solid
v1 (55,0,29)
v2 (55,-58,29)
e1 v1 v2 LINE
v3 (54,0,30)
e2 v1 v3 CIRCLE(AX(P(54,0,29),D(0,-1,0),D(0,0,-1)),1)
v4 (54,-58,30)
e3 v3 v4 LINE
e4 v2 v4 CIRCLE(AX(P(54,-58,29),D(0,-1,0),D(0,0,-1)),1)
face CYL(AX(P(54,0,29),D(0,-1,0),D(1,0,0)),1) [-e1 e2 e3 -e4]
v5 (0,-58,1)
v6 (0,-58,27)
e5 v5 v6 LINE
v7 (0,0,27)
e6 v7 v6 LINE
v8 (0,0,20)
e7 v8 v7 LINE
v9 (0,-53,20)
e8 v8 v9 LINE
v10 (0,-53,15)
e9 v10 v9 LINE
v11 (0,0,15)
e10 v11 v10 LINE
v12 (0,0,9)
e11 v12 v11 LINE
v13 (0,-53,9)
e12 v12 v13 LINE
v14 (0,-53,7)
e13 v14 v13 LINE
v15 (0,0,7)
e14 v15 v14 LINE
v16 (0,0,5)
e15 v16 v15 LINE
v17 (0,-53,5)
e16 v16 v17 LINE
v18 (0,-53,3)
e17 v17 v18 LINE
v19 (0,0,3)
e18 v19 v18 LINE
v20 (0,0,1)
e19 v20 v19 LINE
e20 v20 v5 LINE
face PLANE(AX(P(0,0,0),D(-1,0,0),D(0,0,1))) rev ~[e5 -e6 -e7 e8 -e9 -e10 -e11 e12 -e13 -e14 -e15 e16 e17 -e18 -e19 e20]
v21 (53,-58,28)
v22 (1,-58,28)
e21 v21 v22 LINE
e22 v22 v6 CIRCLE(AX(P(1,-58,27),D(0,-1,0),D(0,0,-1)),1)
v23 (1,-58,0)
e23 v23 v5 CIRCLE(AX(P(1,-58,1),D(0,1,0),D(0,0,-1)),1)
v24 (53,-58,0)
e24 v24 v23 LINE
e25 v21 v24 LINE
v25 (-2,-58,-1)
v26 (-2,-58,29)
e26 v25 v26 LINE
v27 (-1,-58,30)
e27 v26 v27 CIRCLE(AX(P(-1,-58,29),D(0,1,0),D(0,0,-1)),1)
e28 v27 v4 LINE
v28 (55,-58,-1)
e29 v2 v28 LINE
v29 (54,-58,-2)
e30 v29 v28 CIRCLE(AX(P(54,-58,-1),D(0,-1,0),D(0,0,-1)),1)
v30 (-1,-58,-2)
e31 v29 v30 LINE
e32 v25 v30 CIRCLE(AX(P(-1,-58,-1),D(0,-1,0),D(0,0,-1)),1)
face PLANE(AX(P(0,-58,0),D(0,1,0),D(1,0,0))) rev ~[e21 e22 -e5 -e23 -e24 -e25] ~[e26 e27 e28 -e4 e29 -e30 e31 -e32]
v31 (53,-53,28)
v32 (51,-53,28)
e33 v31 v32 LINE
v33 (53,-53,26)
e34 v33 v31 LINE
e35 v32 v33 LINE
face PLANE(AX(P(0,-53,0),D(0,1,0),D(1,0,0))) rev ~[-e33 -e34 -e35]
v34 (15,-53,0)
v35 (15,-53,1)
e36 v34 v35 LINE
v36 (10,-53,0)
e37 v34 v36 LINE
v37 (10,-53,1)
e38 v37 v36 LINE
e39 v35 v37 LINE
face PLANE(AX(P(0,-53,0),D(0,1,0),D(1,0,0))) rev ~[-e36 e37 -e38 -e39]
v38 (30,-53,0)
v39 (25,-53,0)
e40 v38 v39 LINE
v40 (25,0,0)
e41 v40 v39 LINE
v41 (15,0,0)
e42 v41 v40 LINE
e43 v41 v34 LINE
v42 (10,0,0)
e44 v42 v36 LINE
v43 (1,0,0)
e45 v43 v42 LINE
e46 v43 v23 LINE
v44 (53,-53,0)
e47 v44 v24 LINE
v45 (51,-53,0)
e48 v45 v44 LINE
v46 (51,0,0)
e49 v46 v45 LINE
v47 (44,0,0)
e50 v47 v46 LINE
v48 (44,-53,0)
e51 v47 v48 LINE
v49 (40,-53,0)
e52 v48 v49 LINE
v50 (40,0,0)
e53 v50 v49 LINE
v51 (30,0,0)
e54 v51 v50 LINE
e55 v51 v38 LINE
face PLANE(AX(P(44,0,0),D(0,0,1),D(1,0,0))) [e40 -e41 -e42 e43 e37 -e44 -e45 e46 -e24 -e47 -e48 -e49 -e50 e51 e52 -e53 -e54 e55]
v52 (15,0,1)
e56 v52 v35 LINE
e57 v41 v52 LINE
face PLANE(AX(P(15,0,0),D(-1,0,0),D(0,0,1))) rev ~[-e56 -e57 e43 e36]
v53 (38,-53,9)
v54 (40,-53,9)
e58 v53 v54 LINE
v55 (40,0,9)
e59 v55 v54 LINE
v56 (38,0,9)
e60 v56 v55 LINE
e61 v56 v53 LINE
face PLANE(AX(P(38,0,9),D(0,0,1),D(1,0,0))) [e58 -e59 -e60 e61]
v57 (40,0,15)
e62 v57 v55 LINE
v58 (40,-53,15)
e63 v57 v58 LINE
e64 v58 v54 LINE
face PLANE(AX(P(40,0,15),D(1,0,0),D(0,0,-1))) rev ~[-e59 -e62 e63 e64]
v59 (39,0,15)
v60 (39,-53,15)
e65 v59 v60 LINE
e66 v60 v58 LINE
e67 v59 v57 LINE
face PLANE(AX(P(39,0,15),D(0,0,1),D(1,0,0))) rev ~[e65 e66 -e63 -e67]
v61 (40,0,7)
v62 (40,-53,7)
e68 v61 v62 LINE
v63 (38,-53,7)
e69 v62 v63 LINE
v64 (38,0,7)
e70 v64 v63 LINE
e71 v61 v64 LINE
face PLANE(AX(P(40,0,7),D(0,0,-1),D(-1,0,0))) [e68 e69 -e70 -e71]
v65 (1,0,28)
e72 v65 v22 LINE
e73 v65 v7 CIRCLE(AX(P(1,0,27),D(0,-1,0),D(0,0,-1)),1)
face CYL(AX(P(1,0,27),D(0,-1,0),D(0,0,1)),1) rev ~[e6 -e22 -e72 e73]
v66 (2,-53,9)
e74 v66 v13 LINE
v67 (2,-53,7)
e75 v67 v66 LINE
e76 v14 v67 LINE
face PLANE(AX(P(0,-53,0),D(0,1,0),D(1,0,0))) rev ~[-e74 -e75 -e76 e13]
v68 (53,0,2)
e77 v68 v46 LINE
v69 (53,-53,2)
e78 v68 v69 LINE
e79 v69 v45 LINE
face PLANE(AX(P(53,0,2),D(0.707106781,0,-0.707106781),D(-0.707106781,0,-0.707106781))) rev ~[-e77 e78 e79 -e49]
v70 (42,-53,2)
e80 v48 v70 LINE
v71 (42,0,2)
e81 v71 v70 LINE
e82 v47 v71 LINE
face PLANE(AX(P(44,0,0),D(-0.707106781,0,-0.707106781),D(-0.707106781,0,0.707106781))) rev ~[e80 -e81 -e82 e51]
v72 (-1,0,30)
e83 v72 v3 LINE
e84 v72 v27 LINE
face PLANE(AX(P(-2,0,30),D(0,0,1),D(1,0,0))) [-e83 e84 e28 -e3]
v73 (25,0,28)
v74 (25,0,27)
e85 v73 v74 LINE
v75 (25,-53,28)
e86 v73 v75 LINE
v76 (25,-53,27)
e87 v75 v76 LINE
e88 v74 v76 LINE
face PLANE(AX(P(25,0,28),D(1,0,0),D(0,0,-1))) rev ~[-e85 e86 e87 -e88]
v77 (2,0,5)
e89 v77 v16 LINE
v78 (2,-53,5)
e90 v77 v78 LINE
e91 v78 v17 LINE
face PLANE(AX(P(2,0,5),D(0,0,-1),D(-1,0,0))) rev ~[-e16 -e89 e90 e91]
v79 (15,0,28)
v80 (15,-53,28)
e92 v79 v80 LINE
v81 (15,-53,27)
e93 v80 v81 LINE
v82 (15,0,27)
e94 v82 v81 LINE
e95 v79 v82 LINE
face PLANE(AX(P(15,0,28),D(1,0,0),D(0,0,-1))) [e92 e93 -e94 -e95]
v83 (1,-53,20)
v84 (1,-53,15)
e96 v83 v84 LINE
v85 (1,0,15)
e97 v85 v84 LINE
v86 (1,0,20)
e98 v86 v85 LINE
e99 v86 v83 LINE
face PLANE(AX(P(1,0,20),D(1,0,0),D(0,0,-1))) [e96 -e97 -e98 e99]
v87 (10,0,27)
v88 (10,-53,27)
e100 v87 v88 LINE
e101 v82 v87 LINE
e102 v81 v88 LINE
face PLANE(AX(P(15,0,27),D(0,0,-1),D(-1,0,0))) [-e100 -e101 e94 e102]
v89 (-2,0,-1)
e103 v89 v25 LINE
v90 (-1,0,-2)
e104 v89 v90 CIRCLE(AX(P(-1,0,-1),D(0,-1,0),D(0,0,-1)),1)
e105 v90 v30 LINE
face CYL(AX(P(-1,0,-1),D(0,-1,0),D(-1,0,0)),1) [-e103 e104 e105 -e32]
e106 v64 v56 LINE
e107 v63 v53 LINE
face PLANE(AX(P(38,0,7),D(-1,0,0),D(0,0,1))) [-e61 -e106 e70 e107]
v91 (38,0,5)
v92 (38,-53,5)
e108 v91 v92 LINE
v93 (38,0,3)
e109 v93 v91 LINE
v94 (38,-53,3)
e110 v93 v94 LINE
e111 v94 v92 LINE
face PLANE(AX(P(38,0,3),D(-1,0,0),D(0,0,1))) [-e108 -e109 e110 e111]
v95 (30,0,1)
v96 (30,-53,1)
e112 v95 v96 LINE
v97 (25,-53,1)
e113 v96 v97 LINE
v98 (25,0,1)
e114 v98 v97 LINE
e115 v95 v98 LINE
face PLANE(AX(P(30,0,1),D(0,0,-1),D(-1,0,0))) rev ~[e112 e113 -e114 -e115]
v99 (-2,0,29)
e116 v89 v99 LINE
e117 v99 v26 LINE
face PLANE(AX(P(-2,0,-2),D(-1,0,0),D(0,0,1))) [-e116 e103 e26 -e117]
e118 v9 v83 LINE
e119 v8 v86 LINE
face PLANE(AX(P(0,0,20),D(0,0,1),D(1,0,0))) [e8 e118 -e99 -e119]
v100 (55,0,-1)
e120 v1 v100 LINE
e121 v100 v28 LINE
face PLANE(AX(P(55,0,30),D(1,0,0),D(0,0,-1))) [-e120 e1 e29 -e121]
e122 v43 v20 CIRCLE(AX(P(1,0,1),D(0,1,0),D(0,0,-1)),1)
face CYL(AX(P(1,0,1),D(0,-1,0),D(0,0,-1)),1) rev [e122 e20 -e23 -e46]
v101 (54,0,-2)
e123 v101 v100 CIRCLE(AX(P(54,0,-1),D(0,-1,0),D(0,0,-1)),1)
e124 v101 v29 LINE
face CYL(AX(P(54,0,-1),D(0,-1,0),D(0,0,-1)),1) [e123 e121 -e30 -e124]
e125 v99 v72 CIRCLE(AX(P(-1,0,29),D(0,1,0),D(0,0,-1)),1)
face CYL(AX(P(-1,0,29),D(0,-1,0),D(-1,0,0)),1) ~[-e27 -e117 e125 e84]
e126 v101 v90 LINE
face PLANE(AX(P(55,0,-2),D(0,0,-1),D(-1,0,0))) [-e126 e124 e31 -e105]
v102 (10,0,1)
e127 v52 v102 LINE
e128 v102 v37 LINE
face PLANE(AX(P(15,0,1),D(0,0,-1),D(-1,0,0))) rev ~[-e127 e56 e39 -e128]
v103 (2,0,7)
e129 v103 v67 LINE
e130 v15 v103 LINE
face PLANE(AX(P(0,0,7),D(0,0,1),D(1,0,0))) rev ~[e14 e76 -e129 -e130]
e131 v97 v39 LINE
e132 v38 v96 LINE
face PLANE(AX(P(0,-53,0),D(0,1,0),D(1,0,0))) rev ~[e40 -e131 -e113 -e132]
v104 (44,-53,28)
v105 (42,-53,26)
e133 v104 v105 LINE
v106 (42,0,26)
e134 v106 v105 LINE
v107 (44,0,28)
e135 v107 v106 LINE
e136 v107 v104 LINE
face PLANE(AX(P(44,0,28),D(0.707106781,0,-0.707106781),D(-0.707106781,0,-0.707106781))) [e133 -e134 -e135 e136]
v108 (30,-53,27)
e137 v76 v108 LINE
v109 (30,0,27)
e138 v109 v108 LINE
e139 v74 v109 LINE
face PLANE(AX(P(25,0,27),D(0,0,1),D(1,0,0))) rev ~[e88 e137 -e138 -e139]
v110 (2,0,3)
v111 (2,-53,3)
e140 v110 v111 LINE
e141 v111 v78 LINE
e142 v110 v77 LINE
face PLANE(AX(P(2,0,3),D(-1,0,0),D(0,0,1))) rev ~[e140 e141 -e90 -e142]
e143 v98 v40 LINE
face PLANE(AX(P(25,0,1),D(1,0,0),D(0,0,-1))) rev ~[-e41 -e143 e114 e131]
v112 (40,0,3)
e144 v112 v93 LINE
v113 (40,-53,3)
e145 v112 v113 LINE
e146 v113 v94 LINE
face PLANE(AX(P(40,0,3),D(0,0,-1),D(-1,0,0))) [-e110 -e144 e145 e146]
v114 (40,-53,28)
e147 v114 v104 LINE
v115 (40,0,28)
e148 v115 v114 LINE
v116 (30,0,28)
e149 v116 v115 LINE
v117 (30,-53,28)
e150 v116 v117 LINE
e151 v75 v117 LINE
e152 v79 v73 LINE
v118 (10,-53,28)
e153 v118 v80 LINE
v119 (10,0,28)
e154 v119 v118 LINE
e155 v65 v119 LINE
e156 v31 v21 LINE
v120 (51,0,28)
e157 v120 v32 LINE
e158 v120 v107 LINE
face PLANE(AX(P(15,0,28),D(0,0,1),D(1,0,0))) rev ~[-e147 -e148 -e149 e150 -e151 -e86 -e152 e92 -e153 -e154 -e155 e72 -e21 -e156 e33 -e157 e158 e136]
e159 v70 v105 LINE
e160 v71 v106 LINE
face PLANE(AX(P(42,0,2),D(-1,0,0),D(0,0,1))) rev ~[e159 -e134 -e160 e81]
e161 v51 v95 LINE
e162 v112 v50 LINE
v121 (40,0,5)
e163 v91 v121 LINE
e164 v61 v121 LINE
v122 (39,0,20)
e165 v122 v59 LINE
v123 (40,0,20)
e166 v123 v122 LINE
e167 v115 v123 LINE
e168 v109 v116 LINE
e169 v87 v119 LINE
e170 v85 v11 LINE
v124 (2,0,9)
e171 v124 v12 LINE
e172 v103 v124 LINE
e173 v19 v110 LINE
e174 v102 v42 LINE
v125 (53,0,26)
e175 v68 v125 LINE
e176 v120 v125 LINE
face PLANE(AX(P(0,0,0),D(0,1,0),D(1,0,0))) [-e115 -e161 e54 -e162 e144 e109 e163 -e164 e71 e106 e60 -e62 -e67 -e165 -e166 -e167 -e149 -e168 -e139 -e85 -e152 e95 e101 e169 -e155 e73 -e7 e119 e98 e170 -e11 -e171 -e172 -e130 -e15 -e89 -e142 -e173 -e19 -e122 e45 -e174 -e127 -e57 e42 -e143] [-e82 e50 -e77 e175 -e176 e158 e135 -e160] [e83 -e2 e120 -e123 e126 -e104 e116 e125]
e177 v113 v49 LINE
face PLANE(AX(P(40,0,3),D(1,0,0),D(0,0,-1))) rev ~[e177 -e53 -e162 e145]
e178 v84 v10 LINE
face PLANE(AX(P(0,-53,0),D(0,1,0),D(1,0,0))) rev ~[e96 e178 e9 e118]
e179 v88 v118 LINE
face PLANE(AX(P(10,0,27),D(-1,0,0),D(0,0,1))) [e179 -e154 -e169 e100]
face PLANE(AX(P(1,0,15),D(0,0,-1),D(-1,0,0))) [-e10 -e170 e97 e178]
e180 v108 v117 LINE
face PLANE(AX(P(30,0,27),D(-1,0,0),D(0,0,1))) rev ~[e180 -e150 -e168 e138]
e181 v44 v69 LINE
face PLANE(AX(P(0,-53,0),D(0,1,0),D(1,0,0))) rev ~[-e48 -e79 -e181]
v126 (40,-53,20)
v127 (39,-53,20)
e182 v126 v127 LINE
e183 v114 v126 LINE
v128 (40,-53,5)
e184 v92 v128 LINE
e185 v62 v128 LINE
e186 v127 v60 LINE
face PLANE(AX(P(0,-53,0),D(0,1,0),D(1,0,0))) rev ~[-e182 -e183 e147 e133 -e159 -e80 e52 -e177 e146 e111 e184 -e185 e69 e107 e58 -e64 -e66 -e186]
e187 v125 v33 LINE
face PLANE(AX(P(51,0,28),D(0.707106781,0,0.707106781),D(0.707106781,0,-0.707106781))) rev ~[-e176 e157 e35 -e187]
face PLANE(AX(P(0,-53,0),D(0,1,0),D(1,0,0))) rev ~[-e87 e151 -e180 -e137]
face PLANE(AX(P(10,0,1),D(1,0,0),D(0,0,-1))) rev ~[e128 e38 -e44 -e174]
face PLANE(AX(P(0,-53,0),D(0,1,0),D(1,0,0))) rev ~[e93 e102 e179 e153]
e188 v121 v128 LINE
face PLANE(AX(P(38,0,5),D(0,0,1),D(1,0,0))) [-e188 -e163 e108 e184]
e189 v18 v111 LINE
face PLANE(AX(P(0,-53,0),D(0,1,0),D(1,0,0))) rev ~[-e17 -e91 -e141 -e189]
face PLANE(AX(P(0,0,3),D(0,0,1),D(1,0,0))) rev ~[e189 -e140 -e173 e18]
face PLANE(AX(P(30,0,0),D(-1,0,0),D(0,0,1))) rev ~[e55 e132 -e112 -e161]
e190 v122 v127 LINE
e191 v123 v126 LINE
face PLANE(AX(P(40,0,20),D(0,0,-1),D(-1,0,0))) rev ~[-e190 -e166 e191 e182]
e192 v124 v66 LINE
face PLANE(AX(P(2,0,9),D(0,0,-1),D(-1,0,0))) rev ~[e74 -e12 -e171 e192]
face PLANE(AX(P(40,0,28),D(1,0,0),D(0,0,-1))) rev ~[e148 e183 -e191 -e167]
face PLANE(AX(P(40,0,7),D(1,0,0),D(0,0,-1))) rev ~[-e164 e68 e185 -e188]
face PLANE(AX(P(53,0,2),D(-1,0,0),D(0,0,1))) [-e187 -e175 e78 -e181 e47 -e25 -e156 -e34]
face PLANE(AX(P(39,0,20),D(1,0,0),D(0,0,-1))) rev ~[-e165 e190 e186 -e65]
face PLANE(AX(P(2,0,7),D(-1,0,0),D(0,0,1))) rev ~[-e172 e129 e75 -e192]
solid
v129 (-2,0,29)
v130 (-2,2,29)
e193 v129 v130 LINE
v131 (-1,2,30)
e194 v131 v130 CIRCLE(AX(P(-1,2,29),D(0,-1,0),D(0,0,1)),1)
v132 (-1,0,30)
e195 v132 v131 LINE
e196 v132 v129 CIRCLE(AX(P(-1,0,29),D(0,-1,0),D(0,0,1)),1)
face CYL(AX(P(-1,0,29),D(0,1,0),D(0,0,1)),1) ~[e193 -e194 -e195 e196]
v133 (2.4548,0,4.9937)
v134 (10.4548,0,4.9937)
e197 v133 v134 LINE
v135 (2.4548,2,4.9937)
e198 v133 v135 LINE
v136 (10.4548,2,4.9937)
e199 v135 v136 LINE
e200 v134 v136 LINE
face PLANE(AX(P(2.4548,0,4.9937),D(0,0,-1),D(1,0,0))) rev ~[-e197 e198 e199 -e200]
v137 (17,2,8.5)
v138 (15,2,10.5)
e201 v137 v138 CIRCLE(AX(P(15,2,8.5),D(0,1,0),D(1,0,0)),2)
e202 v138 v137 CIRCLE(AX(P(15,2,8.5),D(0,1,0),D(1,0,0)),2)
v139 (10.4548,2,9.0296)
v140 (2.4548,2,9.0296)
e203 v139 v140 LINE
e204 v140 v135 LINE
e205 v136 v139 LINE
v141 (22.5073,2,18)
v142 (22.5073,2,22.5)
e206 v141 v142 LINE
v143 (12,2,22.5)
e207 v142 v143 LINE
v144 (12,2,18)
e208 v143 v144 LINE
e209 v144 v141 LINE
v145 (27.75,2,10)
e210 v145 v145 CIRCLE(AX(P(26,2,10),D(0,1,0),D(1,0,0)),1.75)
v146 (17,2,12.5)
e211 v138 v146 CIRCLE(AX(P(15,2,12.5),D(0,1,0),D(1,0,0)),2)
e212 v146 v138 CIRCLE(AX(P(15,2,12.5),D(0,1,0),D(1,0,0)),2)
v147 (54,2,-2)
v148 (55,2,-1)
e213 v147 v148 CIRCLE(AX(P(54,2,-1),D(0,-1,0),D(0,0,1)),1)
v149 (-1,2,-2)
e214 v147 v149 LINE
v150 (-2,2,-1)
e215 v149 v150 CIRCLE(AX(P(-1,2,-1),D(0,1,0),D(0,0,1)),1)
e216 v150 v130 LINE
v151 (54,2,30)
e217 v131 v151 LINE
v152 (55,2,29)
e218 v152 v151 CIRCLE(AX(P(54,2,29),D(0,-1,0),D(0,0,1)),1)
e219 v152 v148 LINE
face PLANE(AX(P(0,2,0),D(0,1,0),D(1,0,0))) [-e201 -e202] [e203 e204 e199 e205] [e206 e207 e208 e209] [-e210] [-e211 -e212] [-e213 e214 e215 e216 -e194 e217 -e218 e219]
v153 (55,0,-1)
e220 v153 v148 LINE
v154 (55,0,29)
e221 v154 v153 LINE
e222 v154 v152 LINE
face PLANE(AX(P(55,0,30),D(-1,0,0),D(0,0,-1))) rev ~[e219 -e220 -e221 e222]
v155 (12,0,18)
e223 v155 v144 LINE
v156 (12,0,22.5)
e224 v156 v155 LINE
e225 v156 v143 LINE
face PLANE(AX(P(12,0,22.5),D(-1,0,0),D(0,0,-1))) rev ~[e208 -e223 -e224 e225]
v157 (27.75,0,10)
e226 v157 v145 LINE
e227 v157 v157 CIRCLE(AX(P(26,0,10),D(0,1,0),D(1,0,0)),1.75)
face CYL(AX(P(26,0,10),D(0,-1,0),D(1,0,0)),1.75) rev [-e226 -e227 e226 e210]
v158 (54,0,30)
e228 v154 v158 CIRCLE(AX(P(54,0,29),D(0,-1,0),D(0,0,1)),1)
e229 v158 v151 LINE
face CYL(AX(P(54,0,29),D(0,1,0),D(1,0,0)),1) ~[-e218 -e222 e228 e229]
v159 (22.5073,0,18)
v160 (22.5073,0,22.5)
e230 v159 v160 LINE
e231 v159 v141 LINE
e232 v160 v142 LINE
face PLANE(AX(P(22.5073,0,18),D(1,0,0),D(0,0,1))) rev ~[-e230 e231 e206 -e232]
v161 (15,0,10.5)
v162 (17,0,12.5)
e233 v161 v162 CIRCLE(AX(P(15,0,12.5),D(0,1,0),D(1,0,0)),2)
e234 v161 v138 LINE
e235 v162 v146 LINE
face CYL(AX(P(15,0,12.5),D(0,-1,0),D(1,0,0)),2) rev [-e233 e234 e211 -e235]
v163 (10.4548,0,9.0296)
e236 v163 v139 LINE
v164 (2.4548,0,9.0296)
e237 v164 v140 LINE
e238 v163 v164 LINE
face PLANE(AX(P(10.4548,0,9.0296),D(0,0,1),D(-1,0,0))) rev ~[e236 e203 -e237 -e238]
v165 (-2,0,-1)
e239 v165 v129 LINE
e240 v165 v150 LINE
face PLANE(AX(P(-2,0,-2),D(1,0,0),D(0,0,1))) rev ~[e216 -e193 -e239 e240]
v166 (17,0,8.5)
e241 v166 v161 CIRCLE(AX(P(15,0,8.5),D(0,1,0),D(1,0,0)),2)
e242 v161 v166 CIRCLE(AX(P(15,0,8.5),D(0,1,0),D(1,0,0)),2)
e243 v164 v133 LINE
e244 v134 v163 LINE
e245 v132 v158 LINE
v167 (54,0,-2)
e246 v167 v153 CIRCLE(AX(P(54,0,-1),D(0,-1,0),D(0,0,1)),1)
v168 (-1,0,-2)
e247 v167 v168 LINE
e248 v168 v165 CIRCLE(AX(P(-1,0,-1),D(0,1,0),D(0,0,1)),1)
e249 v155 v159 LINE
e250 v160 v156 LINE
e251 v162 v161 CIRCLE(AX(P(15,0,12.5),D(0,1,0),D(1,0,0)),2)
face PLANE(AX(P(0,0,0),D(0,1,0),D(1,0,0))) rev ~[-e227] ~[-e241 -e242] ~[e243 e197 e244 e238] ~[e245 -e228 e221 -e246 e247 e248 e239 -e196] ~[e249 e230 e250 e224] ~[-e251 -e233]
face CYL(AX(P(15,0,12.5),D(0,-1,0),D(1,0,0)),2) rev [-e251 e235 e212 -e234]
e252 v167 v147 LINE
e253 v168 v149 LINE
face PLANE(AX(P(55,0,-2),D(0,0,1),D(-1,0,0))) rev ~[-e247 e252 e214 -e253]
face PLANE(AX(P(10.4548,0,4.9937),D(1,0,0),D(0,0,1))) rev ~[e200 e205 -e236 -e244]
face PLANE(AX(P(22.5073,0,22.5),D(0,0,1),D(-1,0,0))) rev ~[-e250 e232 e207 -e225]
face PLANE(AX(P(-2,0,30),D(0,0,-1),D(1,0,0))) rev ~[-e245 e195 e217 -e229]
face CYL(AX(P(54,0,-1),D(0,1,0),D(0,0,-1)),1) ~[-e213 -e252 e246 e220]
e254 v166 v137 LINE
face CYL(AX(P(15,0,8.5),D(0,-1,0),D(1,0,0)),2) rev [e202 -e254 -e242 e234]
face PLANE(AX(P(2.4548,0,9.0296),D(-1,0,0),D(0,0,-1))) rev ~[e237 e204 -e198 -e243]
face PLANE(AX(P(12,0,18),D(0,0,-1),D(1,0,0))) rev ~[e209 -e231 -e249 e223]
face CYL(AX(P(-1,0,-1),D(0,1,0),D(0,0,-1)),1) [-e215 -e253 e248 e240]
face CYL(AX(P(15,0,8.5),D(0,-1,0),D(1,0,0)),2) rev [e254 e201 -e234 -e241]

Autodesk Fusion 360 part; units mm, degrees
sketch "Esquisse1" plane through (0, 0, 0) normal (0, 1, 0) x (1, 0, 0)
  line L0 (0, -28) -> (40, -28)
  line L1 (40, -28) -> (40, 0)
  line L2 (40, 0) -> (42, 0)
  line L3 (42, 0) -> (42, -28)
  line L4 (42, -28) -> (40, -28)
  line L5 (40, -28) -> (40, 0)
  line L6 (42, 0) -> (53, 0)
  line L7 (53, 0) -> (53, -28)
  line L8 (53, -28) -> (42, -28)
  line L9 (42, -28) -> (42, 0)
  line L10 (12, 0) -> (15, 0)
  line L11 (25, 0) -> (28, 0)
  line L12 (10, -28) -> (15, -28)
  line L13 (15, -28) -> (15, -27)
  line L14 (15, -27) -> (10, -27)
  line L15 (10, -27) -> (10, -28)
  line L16 (30, -28) -> (25, -28)
  line L17 (25, -28) -> (25, -27)
  line L18 (25, -27) -> (30, -27)
  line L19 (30, -27) -> (30, -28)
  line L20 (0, -3) -> (2, -3)
  line L21 (2, -3) -> (2, -5)
  line L22 (2, -5) -> (0, -5)
  line L23 (0, -5) -> (0, -3)
  line L24 (40, -3) -> (38, -3)
  line L25 (38, -3) -> (38, -5)
  line L26 (38, -5) -> (40, -5)
  line L27 (40, -5) -> (40, -3)
  line L28 (40, -7) -> (38, -7)
  line L29 (38, -7) -> (38, -9)
  line L30 (38, -9) -> (40, -9)
  line L31 (40, -9) -> (40, -7)
  line L32 (2.4548, -4.9937) -> (10.4548, -4.9937)
  line L33 (10.4548, -4.9937) -> (10.4548, -9.0296)
  line L34 (10.4548, -9.0296) -> (2.4548, -9.0296)
  line L35 (2.4548, -9.0296) -> (2.4548, -4.9937)
  circle A0 centre (26, -10) radius 1.75
  circle A1 centre (15, -8.5) radius 2
  circle A2 centre (15, -12.5) radius 2
  line L36 (0, 0) -> (40, 0)
  line L37 (0, 0) -> (0, -28)
  line L38 (0, -7) -> (2, -7)
  line L39 (2, -7) -> (2, -9)
  line L40 (2, -9) -> (0, -9)
  line L41 (0, -9) -> (0, -7)
  line L42 (-2, -30) -> (55, -30)
  line L43 (55, -30) -> (55, 2)
  line L44 (55, 2) -> (-2, 2)
  line L45 (-2, 2) -> (-2, -30)
  line L46 (0, 0) -> (15, 0)
  line L47 (0, -16.5) -> (0, 0)
  line L48 (12, -18) -> (22.5073, -18)
  line L49 (22.5073, -18) -> (22.5073, -22.5)
  line L50 (22.5073, -22.5) -> (12, -22.5)
  line L51 (12, -22.5) -> (12, -18)
  line L52 (0, -20) -> (1, -20)
  line L53 (1, -20) -> (1, -15)
  line L54 (1, -15) -> (0, -15)
  line L55 (0, -15) -> (0, -20)
  line L56 (40, -16) -> (40, -20)
  line L57 (44, -28) -> (42, -26)
  line L58 (51, -28) -> (53, -26)
  line L59 (53, -2) -> (51, 0)
  line L60 (44, 0) -> (42, -2)
  line L61 (10, 0) -> (15, 0)
  line L62 (15, 0) -> (15, -1)
  line L63 (15, -1) -> (10, -1)
  line L64 (10, -1) -> (10, 0)
  line L65 (25, 0) -> (30, 0)
  line L66 (30, 0) -> (30, -1)
  line L67 (30, -1) -> (25, -1)
  line L68 (25, -1) -> (25, 0)
  line L69 (40, -20) -> (39, -20)
  line L70 (39, -20) -> (39, -15)
  line L71 (39, -15) -> (40, -15)
  line L72 (40, -15) -> (40, -20)
  dimension "d42" = 28
  dimension "d43" = 32
  dimension "d44" = 40
  dimension "d45" = 2
  dimension "d46" = 11
  dimension "d47" = 57
sketch "Esquisse2" plane through (0, 0, 0) normal (0, 1, 0) x (1, 0, 0)
sketch "Esquisse3" plane through (0, 0, 0) normal (0, 1, 0) x (1, 0, 0)
  line L0 (-2, -30) -> (55, -30)
  line L1 (-2, 2) -> (-2, -30)
  dimension "d54" = 57
  dimension "d55" = 32
extrude "Extrusion11" add sketch "Esquisse1" along normal blind 2 contours L0 L1 L5 L13 L14 L15 L17 L18 L19 L20 L21 L22 L24 L25 L26 L28 L29 L30 L36 L37 L38 L39 L40 L46 L47 L52 L53 L54 L62 L63 L64 L66 L67 L68 L69 L70 L71 | L0 L12 L13 L14 L15 | L37 L47 L52 L53 L54 L55 | L0 L16 L17 L18 L19 | L37 L38 L39 L40 L41 L47 | L1 L2 L3 L4 L5 L9 L27 L31 L56 L72 | L1 L5 L56 L69 L70 L71 L72 | L3 L8 L9 L57 | L20 L21 L22 L23 L37 L47 | L3 L6 L7 L8 L9 L57 L58 L59 L60 | L3 L6 L9 L60 | L7 L8 L58 | L1 L5 L28 L29 L30 L31 | L10 L36 L46 L61 L62 L63 L64 | L6 L7 L59 | L1 L5 L24 L25 L26 L27 | L11 L36 L65 L66 L67 L68 | L42 L43 L44 L45 makes body 1
extrude "Extrusion12" add sketch "Esquisse1" against normal blind 53 separate body contours L0 L12 L13 L14 L15 | L37 L47 L52 L53 L54 L55 | L0 L16 L17 L18 L19 | L37 L38 L39 L40 L41 L47 | L1 L2 L3 L4 L5 L9 L27 L31 L56 L72 | L1 L5 L56 L69 L70 L71 L72 | L3 L8 L9 L57 | L20 L21 L22 L23 L37 L47 | L3 L6 L9 L60 | L7 L8 L58 | L1 L5 L28 L29 L30 L31 | L10 L36 L46 L61 L62 L63 L64 | L6 L7 L59 | L1 L5 L24 L25 L26 L27 | L11 L36 L65 L66 L67 L68 makes body 2 at (26.6667, -17.6667, 27) makes body 3 at (0, -17.6667, 4.3333) makes body 4 at (13.3333, -17.6667, 27) makes body 5 at (11.6667, -17.6667, 0) makes body 6 at (51.6667, -35.3333, 27.3333) makes body 7 at (42, -35.3333, 18) makes body 8 at (0, -17.6667, 7.6667) makes body 9 at (0, -17.6667, 16.6667) makes body 10 at (28.3333, -17.6667, 1) makes body 11 at (52.3333, -17.6667, 1.3333)
extrude "Extrusion13" add sketch "Esquisse1" against normal blind 58 contours L42 L43 L44 L45 bodies 2 3 4 5 6 7 8 9 10 11
fillet "Congé1" radius 1 6 edges at (-2, -29, 30) (55, -29, 30) (0, -29, 28) (0, -29, 0) (-2, -29, -2) (55, -29, -2) on bodies 2
sketch "Esquisse4" plane through (0, 0, 0) normal (0, 0, 1) x (1, 0, 0)
fillet "Congé2" radius 1 1 edges at (55, 1, -2) on bodies 1
fillet "Congé3" radius 1 1 edges at (-2, 1, -2) on bodies 1
fillet "Congé4" radius 1 1 edges at (55, 1, 30) on bodies 1
fillet "Congé5" radius 1 1 edges at (-2, 1, 30) on bodies 1
sketch "Esquisse5" plane through (0, 0, 0) normal (0, 1, 0) x (1, 0, 0)
  line L0 (-2, 2) -> (-2, -30)
  line L1 (0, 0) -> (0, -28)
  line L2 (-2, -30) -> (55, -30)
  line L3 (0, -28) -> (40, -28)
  line L4 (42, -28) -> (40, -28)
  line L5 (53, -28) -> (42, -28)
  dimension "d80" = 32
  dimension "d81" = 28
  dimension "d82" = 57
  dimension "d83" = 40
  dimension "d84" = 2
  dimension "d85" = 11
extrude "Extrusion1" [suppressed]
extrude "Extrusion2" [suppressed]
extrude "Extrusion3" [suppressed]
